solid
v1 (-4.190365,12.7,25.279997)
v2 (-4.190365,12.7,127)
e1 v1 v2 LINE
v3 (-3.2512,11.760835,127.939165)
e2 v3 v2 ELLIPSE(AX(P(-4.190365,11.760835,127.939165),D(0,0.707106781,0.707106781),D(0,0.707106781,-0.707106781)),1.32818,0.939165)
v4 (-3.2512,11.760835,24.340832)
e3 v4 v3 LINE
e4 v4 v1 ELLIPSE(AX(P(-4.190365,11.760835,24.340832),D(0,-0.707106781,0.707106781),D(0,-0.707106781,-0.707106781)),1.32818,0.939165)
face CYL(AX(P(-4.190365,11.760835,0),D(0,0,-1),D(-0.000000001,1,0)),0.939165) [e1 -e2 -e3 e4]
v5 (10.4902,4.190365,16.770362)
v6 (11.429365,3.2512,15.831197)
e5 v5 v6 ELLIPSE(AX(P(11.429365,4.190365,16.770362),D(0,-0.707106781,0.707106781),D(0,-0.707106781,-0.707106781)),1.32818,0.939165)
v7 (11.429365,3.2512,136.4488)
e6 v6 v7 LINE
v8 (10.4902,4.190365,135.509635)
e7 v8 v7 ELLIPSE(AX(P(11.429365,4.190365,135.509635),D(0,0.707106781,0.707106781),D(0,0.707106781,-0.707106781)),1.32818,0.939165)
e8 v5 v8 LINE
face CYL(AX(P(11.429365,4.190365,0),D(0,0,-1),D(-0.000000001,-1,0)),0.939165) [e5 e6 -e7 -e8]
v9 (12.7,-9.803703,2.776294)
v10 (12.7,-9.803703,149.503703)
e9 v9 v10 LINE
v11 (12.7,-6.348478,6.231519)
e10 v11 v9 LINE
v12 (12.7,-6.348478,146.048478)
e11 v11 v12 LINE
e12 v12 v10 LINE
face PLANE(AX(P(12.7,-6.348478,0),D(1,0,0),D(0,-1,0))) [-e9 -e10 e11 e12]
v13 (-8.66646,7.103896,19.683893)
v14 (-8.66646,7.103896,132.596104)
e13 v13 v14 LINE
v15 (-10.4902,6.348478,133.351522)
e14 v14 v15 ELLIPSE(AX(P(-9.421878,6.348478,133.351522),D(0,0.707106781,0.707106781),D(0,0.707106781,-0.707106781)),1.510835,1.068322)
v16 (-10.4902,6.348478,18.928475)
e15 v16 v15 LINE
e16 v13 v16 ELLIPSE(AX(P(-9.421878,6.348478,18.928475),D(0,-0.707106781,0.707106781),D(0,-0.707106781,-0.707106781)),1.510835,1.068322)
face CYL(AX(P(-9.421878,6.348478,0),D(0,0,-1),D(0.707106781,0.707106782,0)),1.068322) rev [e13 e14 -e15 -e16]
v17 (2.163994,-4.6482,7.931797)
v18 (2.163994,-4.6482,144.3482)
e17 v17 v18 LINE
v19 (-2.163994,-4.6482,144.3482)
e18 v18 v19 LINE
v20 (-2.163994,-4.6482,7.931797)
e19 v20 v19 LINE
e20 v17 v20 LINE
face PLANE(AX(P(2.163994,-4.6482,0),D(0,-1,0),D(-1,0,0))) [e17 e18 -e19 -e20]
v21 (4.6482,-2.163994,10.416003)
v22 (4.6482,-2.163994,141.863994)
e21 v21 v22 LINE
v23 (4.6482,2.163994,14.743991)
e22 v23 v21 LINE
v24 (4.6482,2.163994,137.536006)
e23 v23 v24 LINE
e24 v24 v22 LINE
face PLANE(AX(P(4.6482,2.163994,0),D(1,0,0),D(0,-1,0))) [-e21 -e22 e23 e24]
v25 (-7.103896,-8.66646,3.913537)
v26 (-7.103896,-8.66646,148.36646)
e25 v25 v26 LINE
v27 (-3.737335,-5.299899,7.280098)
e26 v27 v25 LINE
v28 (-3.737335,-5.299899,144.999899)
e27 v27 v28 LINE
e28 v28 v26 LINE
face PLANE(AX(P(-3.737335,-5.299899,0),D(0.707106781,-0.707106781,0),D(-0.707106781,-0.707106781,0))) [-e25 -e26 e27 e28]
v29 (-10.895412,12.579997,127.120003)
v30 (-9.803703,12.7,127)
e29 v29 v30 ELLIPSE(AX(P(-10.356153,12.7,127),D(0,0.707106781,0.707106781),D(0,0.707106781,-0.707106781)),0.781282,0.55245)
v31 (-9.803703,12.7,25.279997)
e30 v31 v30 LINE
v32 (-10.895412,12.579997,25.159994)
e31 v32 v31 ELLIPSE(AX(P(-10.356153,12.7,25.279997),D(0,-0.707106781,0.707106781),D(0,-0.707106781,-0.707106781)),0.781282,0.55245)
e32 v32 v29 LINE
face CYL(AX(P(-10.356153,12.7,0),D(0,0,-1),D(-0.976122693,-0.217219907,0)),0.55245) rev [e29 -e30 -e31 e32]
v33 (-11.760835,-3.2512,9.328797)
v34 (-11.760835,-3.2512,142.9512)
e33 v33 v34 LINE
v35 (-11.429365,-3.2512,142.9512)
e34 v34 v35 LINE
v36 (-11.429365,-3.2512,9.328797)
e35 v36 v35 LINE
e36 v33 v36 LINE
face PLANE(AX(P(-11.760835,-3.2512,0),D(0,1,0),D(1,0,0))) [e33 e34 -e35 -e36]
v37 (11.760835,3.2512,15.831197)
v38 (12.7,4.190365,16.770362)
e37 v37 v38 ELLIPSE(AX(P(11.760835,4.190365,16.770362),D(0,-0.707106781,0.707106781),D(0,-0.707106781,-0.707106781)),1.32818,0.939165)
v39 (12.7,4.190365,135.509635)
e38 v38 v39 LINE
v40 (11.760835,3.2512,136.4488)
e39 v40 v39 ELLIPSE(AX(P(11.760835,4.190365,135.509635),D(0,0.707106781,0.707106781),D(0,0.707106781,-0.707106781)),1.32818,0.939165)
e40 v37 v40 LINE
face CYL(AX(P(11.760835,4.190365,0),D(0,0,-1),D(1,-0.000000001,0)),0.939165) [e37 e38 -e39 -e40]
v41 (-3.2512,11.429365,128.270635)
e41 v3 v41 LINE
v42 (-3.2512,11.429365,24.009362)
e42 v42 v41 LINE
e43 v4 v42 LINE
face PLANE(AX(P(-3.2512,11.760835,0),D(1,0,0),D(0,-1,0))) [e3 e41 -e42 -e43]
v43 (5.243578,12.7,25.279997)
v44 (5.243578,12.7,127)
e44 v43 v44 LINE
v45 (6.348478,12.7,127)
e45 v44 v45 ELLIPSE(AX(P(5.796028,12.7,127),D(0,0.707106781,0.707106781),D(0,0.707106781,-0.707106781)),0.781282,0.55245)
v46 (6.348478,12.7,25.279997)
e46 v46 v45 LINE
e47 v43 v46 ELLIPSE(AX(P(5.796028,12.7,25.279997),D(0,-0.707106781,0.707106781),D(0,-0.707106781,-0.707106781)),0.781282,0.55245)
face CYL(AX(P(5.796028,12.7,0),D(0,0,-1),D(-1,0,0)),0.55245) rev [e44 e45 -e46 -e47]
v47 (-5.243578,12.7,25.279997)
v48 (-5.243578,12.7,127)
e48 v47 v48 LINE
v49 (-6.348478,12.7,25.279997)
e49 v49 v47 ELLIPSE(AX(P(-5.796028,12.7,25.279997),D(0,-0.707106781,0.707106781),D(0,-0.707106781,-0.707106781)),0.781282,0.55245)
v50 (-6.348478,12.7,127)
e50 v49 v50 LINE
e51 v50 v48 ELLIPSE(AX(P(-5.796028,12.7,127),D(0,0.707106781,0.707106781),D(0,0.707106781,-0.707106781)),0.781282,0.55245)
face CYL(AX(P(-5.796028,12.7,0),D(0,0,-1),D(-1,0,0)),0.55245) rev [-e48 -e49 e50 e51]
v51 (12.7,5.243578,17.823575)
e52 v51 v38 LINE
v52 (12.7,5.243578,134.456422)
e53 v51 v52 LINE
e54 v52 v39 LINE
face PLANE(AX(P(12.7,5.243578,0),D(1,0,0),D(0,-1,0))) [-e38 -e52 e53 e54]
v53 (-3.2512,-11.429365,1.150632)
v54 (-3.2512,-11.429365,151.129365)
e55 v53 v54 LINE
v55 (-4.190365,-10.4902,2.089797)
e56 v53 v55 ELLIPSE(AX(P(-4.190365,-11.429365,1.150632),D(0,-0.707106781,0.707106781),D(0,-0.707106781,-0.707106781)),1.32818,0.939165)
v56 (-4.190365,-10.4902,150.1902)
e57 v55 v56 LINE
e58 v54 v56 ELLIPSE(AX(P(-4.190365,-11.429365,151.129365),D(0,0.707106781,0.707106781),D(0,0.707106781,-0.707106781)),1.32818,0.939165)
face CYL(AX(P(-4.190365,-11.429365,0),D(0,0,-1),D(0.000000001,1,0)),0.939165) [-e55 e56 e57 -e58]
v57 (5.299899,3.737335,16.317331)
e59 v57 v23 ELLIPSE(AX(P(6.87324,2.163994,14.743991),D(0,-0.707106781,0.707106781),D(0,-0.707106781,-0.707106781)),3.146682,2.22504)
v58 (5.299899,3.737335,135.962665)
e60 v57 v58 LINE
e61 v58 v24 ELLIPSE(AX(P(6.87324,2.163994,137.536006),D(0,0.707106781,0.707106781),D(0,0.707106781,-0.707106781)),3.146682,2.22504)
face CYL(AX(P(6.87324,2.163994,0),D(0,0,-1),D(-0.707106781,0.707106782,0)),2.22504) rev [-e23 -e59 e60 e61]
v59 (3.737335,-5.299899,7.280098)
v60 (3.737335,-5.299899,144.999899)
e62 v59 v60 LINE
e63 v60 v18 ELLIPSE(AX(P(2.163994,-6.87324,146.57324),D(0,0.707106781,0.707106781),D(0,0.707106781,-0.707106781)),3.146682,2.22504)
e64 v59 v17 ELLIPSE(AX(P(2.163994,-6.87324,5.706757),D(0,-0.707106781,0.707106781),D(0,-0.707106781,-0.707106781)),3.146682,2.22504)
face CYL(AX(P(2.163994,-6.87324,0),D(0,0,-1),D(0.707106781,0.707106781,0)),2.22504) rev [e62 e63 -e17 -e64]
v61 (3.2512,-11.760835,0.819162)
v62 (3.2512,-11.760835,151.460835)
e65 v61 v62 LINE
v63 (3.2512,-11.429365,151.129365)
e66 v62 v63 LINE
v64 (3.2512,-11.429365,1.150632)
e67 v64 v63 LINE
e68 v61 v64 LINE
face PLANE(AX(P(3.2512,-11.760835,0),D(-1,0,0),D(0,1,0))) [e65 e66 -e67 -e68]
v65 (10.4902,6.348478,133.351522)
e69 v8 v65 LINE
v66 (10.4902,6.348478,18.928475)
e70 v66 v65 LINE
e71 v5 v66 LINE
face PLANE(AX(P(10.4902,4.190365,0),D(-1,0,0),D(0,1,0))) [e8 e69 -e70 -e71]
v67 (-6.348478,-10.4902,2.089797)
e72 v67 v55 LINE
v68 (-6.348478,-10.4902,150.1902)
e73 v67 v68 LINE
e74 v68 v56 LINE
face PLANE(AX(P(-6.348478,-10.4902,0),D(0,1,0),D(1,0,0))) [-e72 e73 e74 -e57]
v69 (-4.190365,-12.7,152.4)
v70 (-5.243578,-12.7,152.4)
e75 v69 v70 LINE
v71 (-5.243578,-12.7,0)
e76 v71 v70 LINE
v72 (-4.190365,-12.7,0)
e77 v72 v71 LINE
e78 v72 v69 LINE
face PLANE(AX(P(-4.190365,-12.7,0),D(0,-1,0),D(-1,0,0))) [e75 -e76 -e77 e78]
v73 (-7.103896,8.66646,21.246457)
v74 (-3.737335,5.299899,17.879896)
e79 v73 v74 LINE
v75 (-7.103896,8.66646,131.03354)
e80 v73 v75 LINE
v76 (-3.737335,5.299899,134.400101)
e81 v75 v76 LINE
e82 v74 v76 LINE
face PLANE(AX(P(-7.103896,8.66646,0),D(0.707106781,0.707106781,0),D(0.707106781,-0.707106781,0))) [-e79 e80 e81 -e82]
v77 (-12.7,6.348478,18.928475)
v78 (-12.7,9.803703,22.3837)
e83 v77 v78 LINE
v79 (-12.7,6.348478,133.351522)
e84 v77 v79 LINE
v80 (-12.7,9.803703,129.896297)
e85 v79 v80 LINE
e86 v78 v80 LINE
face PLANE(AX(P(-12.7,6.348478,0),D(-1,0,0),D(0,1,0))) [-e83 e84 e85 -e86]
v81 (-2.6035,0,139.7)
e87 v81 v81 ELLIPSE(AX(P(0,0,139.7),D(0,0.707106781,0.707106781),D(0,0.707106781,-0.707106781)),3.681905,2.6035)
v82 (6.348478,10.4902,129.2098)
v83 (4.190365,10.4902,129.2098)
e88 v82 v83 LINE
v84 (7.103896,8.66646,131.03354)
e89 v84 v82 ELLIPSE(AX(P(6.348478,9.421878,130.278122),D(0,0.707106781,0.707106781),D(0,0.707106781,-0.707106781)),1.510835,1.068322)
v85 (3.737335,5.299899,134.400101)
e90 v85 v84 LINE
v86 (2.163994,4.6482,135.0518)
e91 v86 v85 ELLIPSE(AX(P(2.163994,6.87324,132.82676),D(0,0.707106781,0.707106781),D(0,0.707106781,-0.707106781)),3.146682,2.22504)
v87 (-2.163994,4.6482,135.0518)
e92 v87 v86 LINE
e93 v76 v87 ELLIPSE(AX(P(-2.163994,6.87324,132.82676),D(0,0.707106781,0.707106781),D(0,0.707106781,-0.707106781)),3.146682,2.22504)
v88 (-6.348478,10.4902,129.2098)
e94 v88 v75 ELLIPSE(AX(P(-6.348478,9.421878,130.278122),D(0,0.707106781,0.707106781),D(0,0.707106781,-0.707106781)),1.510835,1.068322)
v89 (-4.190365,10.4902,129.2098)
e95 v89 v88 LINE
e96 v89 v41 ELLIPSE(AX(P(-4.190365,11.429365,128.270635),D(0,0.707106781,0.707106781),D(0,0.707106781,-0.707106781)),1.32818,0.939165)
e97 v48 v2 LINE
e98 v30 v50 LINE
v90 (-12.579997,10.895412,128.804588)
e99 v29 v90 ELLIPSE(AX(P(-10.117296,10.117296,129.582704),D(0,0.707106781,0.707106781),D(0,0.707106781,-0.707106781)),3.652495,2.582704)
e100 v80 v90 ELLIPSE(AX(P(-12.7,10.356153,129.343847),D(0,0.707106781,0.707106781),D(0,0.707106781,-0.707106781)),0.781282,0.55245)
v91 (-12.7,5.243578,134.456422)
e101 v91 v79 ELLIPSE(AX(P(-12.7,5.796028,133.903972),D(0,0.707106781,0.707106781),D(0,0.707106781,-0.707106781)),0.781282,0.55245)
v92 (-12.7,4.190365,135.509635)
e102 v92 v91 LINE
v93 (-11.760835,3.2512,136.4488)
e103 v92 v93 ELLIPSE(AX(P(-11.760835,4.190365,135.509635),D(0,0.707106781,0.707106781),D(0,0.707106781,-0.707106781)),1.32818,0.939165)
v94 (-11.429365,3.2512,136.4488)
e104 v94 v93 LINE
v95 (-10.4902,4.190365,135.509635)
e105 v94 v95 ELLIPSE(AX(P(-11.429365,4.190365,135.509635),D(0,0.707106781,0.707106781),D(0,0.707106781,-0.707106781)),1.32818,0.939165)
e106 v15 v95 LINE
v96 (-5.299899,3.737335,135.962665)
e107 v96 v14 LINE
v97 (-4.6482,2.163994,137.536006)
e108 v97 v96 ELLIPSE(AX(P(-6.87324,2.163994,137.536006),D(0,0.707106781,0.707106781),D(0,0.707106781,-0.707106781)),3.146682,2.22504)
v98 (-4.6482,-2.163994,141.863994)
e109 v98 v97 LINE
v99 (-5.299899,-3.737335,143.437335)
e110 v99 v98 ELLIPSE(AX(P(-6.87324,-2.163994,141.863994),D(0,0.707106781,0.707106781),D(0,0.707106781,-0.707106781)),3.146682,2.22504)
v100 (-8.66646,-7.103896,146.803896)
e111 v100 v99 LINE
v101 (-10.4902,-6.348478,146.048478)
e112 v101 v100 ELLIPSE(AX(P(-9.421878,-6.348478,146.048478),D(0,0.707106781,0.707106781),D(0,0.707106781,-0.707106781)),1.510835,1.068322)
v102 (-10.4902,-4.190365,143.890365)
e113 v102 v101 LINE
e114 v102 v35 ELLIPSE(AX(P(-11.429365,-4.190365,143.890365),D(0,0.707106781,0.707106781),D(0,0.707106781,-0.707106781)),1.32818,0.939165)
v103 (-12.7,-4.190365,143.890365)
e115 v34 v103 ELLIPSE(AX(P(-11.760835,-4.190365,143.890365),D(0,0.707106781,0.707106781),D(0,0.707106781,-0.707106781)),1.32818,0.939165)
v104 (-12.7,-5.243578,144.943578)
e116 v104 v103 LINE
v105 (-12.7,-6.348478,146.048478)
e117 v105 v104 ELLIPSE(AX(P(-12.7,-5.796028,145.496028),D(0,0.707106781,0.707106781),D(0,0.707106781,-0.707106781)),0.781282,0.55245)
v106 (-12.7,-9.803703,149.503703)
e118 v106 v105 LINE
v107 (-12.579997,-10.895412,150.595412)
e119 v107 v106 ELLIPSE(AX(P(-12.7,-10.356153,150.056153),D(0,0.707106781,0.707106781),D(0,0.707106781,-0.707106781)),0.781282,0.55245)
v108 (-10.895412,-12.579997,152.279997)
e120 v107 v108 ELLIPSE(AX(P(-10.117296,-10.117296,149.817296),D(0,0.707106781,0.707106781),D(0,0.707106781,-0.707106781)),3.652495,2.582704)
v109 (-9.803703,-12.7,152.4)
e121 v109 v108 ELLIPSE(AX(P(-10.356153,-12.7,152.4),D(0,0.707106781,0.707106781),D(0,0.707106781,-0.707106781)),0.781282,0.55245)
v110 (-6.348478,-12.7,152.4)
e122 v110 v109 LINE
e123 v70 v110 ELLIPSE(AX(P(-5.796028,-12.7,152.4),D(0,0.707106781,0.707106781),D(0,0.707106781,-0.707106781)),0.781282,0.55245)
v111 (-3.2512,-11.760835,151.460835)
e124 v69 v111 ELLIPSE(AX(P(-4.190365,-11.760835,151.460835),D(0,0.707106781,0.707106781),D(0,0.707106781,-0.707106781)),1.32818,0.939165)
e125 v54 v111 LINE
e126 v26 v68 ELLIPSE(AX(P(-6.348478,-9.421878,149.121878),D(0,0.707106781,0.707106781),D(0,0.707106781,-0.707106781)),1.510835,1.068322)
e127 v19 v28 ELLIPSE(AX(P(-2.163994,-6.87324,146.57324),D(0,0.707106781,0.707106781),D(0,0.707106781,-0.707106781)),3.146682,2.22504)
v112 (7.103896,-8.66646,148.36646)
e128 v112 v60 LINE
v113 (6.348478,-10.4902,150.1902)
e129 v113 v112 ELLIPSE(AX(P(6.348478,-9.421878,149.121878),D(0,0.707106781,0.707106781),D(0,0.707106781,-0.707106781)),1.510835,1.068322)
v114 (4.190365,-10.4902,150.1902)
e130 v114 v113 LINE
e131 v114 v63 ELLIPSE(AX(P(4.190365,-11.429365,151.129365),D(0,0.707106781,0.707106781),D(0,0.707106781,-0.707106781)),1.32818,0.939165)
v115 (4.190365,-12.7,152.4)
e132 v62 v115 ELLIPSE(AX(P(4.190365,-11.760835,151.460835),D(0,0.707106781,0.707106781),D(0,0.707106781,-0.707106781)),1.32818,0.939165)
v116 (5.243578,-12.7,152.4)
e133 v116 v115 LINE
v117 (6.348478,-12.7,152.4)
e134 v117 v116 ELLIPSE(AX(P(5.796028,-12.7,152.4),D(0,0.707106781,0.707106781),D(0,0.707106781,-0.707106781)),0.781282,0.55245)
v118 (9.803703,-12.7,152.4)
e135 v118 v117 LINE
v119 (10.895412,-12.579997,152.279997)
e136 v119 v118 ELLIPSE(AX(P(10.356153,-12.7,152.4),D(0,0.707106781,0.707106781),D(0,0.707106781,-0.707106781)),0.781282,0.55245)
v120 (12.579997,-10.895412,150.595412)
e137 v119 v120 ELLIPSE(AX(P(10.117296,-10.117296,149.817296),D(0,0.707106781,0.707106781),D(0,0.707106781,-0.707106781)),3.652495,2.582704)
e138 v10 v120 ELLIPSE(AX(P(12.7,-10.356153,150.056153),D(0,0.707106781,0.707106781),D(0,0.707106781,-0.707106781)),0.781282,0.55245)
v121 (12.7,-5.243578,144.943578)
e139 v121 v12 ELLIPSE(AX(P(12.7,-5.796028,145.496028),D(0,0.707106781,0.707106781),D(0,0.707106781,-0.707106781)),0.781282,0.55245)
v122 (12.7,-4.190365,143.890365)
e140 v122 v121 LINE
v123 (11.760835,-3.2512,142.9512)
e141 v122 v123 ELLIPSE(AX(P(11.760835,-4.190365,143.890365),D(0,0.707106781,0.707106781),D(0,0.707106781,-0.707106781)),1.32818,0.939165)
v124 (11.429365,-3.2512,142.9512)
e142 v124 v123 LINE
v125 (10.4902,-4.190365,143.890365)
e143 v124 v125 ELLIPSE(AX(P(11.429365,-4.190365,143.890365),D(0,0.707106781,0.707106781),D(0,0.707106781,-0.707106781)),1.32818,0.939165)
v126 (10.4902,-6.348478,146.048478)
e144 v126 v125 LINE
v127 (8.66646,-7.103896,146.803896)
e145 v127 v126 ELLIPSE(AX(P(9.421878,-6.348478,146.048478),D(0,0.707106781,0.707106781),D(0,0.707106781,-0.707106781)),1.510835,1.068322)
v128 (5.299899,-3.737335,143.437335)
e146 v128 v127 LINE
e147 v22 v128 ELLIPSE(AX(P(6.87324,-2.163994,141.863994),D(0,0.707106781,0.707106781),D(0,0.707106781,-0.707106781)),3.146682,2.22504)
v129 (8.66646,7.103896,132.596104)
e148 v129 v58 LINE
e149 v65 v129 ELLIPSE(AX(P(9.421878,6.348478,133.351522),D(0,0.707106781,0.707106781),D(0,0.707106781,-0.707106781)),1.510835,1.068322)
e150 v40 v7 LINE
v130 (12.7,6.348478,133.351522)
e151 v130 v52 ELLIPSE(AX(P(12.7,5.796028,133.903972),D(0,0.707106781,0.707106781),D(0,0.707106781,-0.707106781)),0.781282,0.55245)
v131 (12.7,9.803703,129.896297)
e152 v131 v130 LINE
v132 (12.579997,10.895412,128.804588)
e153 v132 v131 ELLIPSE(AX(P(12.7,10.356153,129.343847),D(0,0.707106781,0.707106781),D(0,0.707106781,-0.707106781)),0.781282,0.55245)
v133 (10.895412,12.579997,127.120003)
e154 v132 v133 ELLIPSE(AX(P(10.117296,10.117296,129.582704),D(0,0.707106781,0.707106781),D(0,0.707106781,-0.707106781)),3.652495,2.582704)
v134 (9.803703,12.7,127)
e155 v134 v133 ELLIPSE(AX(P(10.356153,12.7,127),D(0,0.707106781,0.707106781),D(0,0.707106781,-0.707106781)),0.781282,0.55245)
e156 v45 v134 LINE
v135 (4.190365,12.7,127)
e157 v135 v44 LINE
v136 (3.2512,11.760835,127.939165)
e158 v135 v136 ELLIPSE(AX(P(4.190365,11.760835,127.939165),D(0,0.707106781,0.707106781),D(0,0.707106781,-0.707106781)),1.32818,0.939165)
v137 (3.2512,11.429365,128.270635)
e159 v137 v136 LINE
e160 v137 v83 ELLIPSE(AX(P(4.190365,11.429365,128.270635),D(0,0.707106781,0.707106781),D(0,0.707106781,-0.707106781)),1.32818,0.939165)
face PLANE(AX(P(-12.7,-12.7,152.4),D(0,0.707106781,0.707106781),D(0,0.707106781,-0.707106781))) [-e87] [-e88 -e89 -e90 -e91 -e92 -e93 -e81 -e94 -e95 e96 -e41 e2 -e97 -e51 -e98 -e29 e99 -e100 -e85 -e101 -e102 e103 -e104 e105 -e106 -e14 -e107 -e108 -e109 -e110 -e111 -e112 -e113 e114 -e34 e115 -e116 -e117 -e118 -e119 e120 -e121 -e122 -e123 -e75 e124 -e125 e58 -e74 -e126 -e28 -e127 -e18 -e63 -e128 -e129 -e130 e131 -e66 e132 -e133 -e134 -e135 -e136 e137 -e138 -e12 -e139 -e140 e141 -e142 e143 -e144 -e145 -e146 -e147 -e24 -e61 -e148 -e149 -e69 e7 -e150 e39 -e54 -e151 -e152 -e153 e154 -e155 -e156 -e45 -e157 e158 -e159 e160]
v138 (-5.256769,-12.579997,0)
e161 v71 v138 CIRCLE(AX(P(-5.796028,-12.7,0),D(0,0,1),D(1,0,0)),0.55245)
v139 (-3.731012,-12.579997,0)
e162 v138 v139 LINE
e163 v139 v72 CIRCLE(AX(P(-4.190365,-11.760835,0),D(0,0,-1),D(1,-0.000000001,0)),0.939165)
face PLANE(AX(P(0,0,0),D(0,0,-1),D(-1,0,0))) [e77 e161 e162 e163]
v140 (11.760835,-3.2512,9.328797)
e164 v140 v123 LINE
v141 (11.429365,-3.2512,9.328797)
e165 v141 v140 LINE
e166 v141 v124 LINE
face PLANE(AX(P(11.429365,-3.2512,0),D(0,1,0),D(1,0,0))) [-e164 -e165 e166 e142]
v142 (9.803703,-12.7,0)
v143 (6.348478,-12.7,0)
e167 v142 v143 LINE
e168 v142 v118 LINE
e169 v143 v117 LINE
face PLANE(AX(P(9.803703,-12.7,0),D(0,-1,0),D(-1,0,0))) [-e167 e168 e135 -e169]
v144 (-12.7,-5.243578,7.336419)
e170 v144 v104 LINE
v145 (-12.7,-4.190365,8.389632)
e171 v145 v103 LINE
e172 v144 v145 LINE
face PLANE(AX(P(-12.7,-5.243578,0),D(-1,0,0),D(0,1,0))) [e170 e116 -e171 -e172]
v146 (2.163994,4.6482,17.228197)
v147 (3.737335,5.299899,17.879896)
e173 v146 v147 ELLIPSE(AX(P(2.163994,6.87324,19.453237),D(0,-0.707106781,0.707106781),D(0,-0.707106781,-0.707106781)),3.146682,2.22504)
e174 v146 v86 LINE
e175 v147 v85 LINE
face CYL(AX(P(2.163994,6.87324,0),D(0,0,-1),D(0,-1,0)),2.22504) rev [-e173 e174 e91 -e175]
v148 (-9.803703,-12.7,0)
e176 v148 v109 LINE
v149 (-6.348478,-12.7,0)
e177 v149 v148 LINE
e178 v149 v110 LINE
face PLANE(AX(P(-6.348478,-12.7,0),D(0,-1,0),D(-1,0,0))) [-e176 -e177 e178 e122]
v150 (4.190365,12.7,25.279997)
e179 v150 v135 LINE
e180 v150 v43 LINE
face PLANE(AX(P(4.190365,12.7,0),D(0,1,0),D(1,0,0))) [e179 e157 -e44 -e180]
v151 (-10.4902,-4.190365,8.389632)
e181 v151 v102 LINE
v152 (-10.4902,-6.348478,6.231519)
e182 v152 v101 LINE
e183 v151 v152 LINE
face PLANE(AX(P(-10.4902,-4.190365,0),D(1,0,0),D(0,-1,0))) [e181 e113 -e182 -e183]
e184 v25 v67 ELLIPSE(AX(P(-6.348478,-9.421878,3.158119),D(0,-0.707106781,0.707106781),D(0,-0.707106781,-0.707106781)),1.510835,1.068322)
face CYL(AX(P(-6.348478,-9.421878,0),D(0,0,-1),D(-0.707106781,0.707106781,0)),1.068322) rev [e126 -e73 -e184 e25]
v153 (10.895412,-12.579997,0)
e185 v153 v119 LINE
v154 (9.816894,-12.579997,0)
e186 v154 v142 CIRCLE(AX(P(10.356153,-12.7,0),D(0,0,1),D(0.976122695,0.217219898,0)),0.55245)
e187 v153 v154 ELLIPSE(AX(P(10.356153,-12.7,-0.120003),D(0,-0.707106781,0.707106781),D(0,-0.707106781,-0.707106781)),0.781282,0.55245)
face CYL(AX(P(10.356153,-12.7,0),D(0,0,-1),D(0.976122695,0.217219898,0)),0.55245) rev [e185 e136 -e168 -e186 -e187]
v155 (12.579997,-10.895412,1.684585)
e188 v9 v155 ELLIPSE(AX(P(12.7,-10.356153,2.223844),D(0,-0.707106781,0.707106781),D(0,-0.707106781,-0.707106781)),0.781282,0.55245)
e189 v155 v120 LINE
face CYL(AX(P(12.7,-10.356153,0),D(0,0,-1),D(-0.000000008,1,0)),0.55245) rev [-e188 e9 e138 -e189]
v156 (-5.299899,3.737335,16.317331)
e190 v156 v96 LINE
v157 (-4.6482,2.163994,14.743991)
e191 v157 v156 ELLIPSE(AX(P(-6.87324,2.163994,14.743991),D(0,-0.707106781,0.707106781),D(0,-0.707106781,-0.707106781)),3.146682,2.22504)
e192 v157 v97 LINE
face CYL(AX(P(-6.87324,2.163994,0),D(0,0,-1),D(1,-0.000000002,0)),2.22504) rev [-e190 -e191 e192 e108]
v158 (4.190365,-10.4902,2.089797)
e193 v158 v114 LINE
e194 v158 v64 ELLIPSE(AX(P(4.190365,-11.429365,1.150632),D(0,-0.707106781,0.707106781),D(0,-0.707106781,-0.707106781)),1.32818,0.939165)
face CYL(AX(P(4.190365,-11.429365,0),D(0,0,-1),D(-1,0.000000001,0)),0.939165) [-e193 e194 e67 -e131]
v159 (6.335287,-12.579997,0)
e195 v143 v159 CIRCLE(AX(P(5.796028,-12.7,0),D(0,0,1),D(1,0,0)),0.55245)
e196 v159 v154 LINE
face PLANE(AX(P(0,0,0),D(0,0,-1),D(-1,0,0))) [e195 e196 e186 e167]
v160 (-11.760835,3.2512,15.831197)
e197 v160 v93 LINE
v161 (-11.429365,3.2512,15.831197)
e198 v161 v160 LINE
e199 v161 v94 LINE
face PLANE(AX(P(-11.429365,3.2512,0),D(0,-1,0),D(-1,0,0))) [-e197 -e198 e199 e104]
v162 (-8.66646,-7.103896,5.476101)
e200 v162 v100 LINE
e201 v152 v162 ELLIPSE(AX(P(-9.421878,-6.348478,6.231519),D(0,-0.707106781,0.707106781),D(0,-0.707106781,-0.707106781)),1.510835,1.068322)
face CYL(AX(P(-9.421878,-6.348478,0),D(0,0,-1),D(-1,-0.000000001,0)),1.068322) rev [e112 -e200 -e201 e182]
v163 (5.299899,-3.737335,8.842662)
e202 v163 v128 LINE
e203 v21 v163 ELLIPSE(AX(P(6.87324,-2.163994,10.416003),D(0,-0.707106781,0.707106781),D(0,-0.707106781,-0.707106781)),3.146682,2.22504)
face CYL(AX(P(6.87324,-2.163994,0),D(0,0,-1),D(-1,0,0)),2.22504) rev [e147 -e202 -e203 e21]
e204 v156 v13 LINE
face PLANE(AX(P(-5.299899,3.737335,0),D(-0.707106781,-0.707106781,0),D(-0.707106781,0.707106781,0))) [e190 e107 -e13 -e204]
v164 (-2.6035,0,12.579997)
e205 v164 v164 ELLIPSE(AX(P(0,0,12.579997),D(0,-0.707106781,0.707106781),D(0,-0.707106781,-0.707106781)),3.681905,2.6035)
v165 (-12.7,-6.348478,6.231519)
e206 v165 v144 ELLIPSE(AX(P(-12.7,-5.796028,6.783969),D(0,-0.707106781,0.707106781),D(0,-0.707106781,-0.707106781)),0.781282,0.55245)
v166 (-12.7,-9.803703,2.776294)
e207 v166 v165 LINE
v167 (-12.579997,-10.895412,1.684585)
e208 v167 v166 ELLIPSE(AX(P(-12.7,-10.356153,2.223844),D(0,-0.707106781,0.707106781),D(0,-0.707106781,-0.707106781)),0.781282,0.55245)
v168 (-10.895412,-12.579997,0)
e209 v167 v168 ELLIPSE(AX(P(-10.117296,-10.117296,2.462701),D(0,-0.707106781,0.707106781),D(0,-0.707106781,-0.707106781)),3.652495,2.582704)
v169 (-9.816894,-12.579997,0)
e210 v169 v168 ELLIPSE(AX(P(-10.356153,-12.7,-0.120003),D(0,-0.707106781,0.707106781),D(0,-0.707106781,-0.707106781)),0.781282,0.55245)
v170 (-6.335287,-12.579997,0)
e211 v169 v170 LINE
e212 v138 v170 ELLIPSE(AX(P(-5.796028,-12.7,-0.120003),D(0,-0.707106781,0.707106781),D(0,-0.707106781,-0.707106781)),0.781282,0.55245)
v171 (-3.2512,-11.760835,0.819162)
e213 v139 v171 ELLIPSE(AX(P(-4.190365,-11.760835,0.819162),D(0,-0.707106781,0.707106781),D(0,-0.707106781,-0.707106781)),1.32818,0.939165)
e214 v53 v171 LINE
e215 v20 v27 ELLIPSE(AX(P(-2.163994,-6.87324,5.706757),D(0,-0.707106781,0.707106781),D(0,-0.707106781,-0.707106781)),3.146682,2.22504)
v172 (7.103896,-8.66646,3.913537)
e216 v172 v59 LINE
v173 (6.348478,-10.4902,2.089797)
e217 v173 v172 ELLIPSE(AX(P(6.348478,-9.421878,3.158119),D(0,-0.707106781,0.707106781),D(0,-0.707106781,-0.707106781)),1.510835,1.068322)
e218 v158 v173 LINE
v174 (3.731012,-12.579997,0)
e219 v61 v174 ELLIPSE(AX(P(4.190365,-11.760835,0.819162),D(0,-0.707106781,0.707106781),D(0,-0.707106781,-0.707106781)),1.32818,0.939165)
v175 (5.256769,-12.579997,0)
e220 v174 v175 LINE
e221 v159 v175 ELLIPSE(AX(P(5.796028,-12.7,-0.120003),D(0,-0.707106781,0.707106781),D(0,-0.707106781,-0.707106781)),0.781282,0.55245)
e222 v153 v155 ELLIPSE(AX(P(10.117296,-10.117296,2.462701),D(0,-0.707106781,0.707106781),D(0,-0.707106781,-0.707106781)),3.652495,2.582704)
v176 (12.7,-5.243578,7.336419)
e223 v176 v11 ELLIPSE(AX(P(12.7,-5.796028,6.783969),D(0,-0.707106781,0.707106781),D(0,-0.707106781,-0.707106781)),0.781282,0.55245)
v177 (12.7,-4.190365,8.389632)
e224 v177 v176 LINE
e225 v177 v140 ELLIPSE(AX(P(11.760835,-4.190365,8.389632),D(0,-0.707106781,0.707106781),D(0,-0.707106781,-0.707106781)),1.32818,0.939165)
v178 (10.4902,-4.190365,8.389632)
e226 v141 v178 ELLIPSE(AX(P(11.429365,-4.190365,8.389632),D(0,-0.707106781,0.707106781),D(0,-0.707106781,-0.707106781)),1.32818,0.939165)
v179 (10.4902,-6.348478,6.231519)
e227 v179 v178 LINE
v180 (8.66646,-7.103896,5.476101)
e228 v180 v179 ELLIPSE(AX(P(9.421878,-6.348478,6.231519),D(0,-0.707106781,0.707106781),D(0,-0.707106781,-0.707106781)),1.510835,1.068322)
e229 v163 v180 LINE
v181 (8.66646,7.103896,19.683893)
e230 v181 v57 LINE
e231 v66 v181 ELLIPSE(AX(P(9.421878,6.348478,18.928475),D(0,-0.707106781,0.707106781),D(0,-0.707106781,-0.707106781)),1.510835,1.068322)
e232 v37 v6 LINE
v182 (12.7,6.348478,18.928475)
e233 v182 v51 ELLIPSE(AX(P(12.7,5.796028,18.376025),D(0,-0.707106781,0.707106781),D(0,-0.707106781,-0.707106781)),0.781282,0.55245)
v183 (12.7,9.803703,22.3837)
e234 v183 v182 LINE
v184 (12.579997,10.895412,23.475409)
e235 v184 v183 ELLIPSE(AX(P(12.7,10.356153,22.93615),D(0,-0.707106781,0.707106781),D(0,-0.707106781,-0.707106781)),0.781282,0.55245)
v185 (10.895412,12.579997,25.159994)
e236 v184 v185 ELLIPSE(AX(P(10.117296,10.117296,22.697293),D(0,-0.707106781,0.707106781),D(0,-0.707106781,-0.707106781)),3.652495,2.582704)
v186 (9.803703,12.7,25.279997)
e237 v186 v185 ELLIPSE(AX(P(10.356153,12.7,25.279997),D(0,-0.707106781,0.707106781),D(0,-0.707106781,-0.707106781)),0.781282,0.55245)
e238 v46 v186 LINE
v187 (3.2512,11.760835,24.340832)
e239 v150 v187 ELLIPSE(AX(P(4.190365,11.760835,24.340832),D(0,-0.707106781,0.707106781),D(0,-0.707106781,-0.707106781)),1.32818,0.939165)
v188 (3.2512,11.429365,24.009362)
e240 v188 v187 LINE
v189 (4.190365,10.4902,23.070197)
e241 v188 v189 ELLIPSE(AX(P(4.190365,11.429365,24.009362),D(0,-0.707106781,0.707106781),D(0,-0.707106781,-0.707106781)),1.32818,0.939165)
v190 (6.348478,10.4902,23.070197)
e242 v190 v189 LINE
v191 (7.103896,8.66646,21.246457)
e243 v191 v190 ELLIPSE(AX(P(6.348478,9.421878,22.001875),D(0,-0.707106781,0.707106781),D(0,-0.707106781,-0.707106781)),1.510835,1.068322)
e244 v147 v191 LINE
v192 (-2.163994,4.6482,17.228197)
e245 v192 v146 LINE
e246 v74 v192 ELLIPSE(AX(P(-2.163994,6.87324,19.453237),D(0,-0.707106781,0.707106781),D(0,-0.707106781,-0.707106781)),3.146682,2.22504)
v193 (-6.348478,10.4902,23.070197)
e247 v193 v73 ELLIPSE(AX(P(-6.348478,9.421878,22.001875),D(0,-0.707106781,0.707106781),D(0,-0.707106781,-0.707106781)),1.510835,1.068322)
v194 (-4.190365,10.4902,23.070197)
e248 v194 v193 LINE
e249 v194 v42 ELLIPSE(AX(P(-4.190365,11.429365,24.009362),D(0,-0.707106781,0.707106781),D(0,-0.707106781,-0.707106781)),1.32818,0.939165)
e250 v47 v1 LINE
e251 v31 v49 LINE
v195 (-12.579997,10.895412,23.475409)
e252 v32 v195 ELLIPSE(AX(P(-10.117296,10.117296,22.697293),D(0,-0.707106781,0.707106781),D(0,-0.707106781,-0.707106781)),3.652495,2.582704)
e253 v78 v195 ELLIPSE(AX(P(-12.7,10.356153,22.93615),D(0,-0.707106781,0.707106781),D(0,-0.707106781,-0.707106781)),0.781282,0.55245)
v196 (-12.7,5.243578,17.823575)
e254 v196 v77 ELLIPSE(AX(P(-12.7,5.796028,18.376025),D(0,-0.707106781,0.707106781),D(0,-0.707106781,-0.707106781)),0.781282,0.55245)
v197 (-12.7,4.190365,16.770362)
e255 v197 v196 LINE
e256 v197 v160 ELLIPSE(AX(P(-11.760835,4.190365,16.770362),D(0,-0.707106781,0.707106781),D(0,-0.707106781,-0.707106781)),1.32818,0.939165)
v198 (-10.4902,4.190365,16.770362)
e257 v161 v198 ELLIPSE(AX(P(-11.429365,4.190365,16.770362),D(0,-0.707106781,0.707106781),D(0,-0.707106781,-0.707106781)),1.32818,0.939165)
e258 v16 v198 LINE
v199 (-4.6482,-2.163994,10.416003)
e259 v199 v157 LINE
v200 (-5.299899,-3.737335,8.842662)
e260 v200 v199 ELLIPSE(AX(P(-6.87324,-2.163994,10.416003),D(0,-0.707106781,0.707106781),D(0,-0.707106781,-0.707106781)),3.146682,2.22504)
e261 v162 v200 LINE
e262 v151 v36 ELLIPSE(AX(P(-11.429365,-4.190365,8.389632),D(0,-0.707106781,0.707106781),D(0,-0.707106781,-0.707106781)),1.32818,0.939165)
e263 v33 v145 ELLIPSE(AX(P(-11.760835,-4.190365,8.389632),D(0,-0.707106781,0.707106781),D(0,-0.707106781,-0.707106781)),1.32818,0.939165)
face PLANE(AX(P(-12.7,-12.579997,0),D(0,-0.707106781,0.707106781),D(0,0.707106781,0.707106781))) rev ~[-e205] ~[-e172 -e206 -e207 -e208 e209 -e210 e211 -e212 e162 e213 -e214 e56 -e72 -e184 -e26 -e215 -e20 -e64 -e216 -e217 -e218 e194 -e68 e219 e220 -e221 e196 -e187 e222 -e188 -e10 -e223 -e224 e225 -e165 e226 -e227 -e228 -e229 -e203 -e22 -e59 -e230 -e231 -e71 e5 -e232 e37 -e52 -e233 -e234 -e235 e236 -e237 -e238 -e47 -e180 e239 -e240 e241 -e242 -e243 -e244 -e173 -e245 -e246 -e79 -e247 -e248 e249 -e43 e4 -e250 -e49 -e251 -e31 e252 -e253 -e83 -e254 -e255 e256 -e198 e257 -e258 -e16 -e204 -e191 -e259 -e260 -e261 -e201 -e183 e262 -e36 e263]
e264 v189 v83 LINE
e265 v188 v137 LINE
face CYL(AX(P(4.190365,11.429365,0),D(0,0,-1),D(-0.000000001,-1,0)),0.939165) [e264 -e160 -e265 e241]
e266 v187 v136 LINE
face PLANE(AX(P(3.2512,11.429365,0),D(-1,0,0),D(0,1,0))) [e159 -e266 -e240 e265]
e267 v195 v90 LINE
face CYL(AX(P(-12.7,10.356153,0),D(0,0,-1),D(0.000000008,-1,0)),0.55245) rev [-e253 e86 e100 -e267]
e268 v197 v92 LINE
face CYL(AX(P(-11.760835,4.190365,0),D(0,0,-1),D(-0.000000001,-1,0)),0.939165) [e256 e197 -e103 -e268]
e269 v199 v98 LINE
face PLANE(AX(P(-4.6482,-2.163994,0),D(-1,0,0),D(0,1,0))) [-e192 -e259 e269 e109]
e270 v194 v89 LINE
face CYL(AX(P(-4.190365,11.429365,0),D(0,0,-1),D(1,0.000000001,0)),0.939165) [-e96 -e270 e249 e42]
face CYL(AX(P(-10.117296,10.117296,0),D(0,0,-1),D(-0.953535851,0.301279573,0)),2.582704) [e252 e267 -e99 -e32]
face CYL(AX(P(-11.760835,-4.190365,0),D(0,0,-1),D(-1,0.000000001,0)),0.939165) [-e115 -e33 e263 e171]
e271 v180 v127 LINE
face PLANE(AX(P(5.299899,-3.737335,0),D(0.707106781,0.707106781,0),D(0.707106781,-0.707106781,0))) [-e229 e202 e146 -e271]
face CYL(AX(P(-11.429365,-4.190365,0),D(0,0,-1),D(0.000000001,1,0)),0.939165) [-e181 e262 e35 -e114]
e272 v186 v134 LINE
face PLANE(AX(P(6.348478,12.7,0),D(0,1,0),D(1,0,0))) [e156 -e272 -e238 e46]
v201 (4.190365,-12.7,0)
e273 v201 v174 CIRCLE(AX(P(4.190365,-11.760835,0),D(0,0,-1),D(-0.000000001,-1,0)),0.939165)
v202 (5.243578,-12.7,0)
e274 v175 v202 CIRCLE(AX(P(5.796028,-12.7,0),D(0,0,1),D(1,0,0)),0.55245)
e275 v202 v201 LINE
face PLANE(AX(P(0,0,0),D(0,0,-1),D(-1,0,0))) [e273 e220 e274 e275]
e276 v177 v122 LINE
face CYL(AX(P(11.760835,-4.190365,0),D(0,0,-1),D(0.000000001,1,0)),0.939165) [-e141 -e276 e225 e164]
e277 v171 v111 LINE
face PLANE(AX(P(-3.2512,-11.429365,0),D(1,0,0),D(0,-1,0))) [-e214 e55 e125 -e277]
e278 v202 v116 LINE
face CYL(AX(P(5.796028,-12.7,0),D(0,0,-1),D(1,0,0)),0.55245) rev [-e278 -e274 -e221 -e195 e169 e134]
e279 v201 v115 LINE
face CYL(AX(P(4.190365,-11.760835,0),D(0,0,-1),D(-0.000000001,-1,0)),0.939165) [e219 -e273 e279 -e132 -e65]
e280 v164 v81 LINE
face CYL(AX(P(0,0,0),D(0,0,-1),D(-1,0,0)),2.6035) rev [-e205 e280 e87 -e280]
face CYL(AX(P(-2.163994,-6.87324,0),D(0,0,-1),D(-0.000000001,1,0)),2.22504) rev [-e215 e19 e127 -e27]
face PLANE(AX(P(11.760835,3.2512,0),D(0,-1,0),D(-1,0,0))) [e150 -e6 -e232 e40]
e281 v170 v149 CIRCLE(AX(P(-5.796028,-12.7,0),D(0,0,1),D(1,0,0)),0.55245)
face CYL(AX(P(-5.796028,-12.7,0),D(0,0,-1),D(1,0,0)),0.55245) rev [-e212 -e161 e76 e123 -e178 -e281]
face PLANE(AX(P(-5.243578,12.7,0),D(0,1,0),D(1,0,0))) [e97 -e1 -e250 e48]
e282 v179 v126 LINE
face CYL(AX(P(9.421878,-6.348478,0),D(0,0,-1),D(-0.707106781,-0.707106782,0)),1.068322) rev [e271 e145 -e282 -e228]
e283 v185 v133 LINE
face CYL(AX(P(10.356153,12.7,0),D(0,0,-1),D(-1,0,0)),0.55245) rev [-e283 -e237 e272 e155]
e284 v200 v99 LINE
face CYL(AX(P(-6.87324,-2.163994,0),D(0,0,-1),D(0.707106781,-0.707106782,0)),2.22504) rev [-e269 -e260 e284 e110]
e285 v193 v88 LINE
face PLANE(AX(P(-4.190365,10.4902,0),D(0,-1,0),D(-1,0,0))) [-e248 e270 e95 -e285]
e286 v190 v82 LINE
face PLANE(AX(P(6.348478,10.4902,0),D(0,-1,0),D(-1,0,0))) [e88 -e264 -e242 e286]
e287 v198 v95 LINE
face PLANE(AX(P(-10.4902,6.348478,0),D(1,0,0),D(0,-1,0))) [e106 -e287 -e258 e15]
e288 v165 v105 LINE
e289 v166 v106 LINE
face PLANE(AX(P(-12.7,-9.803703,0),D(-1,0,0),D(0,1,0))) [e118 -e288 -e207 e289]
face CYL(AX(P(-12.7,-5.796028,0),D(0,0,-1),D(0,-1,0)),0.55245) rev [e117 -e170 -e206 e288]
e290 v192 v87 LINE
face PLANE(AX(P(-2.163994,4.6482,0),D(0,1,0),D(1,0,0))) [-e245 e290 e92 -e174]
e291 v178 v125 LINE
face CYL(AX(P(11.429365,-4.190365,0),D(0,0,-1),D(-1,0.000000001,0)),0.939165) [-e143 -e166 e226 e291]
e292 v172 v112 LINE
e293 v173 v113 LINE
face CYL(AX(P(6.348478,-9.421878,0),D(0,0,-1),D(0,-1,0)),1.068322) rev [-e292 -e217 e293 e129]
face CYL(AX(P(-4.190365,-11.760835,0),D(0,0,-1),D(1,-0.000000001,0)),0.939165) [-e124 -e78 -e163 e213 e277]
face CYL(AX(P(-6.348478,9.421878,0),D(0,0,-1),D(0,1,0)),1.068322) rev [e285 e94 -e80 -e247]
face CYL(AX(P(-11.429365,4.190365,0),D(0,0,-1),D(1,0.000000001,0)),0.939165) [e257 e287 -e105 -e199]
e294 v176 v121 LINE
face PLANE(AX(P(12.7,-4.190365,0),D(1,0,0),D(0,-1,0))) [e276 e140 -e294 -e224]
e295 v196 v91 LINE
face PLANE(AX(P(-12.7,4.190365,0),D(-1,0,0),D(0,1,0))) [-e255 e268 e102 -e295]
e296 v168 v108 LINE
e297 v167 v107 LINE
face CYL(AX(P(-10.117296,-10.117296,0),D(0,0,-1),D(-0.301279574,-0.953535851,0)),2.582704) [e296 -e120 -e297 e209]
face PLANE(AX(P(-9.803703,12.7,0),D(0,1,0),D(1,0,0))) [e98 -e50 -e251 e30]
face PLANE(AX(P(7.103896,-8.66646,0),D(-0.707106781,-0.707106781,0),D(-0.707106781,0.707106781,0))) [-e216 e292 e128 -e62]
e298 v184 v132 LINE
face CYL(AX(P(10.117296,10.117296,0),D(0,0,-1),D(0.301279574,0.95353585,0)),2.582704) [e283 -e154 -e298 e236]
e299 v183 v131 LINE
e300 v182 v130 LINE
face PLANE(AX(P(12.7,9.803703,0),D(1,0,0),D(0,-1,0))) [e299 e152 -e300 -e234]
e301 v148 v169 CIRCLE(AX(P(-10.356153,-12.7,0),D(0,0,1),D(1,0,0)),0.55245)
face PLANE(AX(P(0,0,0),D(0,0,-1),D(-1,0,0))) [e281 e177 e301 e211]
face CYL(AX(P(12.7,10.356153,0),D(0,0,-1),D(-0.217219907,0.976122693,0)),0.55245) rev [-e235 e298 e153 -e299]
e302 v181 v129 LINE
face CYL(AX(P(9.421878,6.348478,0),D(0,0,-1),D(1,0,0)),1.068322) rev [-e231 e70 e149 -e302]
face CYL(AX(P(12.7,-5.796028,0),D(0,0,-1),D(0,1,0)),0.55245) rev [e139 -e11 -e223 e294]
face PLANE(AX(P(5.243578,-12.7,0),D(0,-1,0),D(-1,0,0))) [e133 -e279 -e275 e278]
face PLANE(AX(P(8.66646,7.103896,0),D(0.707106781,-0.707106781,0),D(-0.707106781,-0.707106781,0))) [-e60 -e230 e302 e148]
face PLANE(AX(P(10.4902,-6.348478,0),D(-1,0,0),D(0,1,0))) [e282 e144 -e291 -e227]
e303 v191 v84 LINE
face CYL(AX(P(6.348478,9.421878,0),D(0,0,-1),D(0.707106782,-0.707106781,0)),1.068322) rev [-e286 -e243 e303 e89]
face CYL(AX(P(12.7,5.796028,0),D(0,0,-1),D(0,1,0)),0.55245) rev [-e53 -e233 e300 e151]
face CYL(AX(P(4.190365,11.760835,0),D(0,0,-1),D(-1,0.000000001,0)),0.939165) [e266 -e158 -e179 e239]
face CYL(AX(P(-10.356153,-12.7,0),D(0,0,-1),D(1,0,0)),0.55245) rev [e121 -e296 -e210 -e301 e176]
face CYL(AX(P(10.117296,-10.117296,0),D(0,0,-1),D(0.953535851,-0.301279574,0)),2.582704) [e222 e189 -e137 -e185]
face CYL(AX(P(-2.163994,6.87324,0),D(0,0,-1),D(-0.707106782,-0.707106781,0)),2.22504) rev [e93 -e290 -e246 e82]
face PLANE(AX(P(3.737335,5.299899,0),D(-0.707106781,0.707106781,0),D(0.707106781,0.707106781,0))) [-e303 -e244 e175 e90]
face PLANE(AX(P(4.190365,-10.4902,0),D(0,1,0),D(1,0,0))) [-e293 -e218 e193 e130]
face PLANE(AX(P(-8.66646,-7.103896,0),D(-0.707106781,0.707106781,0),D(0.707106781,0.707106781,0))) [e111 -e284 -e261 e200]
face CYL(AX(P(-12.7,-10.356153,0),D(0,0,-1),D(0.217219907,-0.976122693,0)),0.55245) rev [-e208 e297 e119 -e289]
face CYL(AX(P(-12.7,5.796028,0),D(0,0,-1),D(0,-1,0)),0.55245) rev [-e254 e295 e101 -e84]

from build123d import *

# Parameters (mm, degrees)
SKETCH2_R           = 2.6035
BOSS_EXTRUDE1_DEPTH = 152.4
CUT_EXTRUDE2_DEPTH  = 203.2


with BuildPart() as part:
    # Sketch2 → Boss-Extrude1 (new body)
    with BuildSketch(Plane.XY):
        with BuildLine():
            Line((-3.737334562, -5.299899128), (-7.103895736, -8.666460301))
            ThreePointArc((-7.103895736, -8.666460301), (-7.335478831, -9.830707141), (-6.348478019, -10.4902))
            Line((-6.348478019, -10.4902), (-4.190365, -10.4902))
            ThreePointArc((-4.190365, -10.4902), (-3.52627506, -10.76527506), (-3.2512, -11.429365))
            Line((-3.2512, -11.429365), (-3.2512, -11.760835))
            ThreePointArc((-3.2512, -11.760835), (-3.52627506, -12.42492494), (-4.190365, -12.7))
            Line((-4.190365, -12.7), (-5.243578019, -12.7))
            ThreePointArc((-5.243578019, -12.7), (-5.796028019, -12.14755), (-6.348478019, -12.7))
            Line((-6.348478019, -12.7), (-9.803703153, -12.7))
            ThreePointArc((-9.803703153, -12.7), (-10.295790179, -12.150857656), (-10.895412136, -12.579996867))
            ThreePointArc((-10.895412136, -12.579996867), (-11.943543586, -11.943543585), (-12.579996867, -10.895412135))
            ThreePointArc((-12.579996867, -10.895412135), (-12.150857661, -10.295790179), (-12.7, -9.803703154))
            Line((-12.7, -9.803703154), (-12.7, -6.348478019))
            ThreePointArc((-12.7, -6.348478019), (-12.14755, -5.796028019), (-12.7, -5.243578019))
            Line((-12.7, -5.243578019), (-12.7, -4.190365))
            ThreePointArc((-12.7, -4.190365), (-12.42492494, -3.52627506), (-11.760835, -3.2512))
            Line((-11.760835, -3.2512), (-11.429365, -3.2512))
            ThreePointArc((-11.429365, -3.2512), (-10.76527506, -3.52627506), (-10.4902, -4.190365))
            Line((-10.4902, -4.190365), (-10.4902, -6.348478019))
            ThreePointArc((-10.4902, -6.348478019), (-9.830707141, -7.335478831), (-8.666460302, -7.103895737))
            Line((-8.666460302, -7.103895737), (-5.299899128, -3.737334563))
            ThreePointArc((-5.299899128, -3.737334563), (-4.817571085, -3.015479635), (-4.6482, -2.163993691))
            Line((-4.6482, -2.163993691), (-4.6482, 2.16399369))
            ThreePointArc((-4.6482, 2.16399369), (-4.817571084, 3.015479634), (-5.299899127, 3.737334562))
            Line((-5.299899127, 3.737334562), (-8.666460301, 7.103895736))
            ThreePointArc((-8.666460301, 7.103895736), (-9.83070714, 7.335478831), (-10.490199999, 6.348478019))
            Line((-10.490199999, 6.348478019), (-10.490199999, 4.190365))
            ThreePointArc((-10.490199999, 4.190365), (-10.765275058, 3.52627506), (-11.429364999, 3.2512))
            Line((-11.429364999, 3.2512), (-11.760834999, 3.2512))
            ThreePointArc((-11.760834999, 3.2512), (-12.424924939, 3.52627506), (-12.699999999, 4.190365))
            Line((-12.699999999, 4.190365), (-12.699999999, 5.243578019))
            ThreePointArc((-12.699999999, 5.243578019), (-12.147549999, 5.796028019), (-12.699999999, 6.348478019))
            Line((-12.699999999, 6.348478019), (-12.699999999, 9.803703154))
            ThreePointArc((-12.699999999, 9.803703154), (-12.15085766, 10.295790179), (-12.579996866, 10.895412135))
            ThreePointArc((-12.579996866, 10.895412135), (-11.943543584, 11.943543586), (-10.895412134, 12.579996867))
            ThreePointArc((-10.895412134, 12.579996867), (-10.295790177, 12.150857661), (-9.803703152, 12.7))
            Line((-9.803703152, 12.7), (-6.348478018, 12.7))
            ThreePointArc((-6.348478018, 12.7), (-5.796028018, 12.14755), (-5.243578018, 12.7))
            Line((-5.243578018, 12.7), (-4.190364999, 12.7))
            ThreePointArc((-4.190364999, 12.7), (-3.526275058, 12.42492494), (-3.251199999, 11.760835))
            Line((-3.251199999, 11.760835), (-3.251199999, 11.429365))
            ThreePointArc((-3.251199999, 11.429365), (-3.526275058, 10.76527506), (-4.190364999, 10.4902))
            Line((-4.190364999, 10.4902), (-6.348478018, 10.4902))
            ThreePointArc((-6.348478018, 10.4902), (-7.33547883, 9.830707142), (-7.103895735, 8.666460303))
            Line((-7.103895735, 8.666460303), (-3.737334561, 5.299899129))
            ThreePointArc((-3.737334561, 5.299899129), (-3.015479634, 4.817571086), (-2.16399369, 4.6482))
            Line((-2.16399369, 4.6482), (2.163993692, 4.6482))
            ThreePointArc((2.163993692, 4.6482), (3.015479636, 4.817571085), (3.737334564, 5.299899128))
            Line((3.737334564, 5.299899128), (7.103895738, 8.666460302))
            ThreePointArc((7.103895738, 8.666460302), (7.335478833, 9.830707141), (6.348478021, 10.4902))
            Line((6.348478021, 10.4902), (4.190365002, 10.4902))
            ThreePointArc((4.190365002, 10.4902), (3.526275062, 10.76527506), (3.251200002, 11.429365))
            Line((3.251200002, 11.429365), (3.251200002, 11.760835))
            ThreePointArc((3.251200002, 11.760835), (3.526275062, 12.42492494), (4.190365002, 12.7))
            Line((4.190365002, 12.7), (5.243578021, 12.7))
            ThreePointArc((5.243578021, 12.7), (5.796028021, 12.14755), (6.348478021, 12.7))
            Line((6.348478021, 12.7), (9.803703155, 12.7))
            ThreePointArc((9.803703155, 12.7), (10.295790181, 12.150857656), (10.895412138, 12.579996867))
            ThreePointArc((10.895412138, 12.579996867), (11.943543588, 11.943543585), (12.579996869, 10.895412136))
            ThreePointArc((12.579996869, 10.895412136), (12.150857663, 10.295790179), (12.700000001, 9.803703154))
            Line((12.700000001, 9.803703154), (12.700000001, 6.34847802))
            ThreePointArc((12.700000001, 6.34847802), (12.147550001, 5.79602802), (12.700000001, 5.24357802))
            Line((12.700000001, 5.24357802), (12.700000001, 4.190365001))
            ThreePointArc((12.700000001, 4.190365001), (12.424924941, 3.526275061), (11.760835001, 3.251200001))
            Line((11.760835001, 3.251200001), (11.429365001, 3.251200001))
            ThreePointArc((11.429365001, 3.251200001), (10.765275061, 3.526275061), (10.490200001, 4.190365001))
            Line((10.490200001, 4.190365001), (10.490200001, 6.34847802))
            ThreePointArc((10.490200001, 6.34847802), (9.830707143, 7.335478832), (8.666460303, 7.103895738))
            Line((8.666460303, 7.103895738), (5.299899129, 3.737334564))
            ThreePointArc((5.299899129, 3.737334564), (4.817571086, 3.015479636), (4.648200001, 2.163993692))
            Line((4.648200001, 2.163993692), (4.648200001, -2.163993689))
            ThreePointArc((4.648200001, -2.163993689), (4.817571086, -3.015479633), (5.299899128, -3.737334561))
            Line((5.299899128, -3.737334561), (8.666460302, -7.103895735))
            ThreePointArc((8.666460302, -7.103895735), (9.830707141, -7.33547883), (10.4902, -6.348478018))
            Line((10.4902, -6.348478018), (10.4902, -4.190364999))
            ThreePointArc((10.4902, -4.190364999), (10.76527506, -3.526275059), (11.429365, -3.251199999))
            Line((11.429365, -3.251199999), (11.760835, -3.251199999))
            ThreePointArc((11.760835, -3.251199999), (12.42492494, -3.526275059), (12.7, -4.190364999))
            Line((12.7, -4.190364999), (12.7, -5.243578018))
            ThreePointArc((12.7, -5.243578018), (12.14755, -5.796028018), (12.7, -6.348478018))
            Line((12.7, -6.348478018), (12.7, -9.803703153))
            ThreePointArc((12.7, -9.803703153), (12.150857661, -10.295790178), (12.579996867, -10.895412134))
            ThreePointArc((12.579996867, -10.895412134), (11.943543586, -11.943543584), (10.895412136, -12.579996866))
            ThreePointArc((10.895412136, -12.579996866), (10.295790179, -12.150857655), (9.803703154, -12.699999999))
            Line((9.803703154, -12.699999999), (6.348478019, -12.699999999))
            ThreePointArc((6.348478019, -12.699999999), (5.796028019, -12.147549999), (5.243578019, -12.699999999))
            Line((5.243578019, -12.699999999), (4.190365, -12.699999999))
            ThreePointArc((4.190365, -12.699999999), (3.52627506, -12.424924939), (3.2512, -11.760834999))
            Line((3.2512, -11.760834999), (3.2512, -11.429364999))
            ThreePointArc((3.2512, -11.429364999), (3.52627506, -10.765275059), (4.190365, -10.490199999))
            Line((4.190365, -10.490199999), (6.348478019, -10.490199999))
            ThreePointArc((6.348478019, -10.490199999), (7.335478831, -9.830707141), (7.103895737, -8.666460301))
            Line((7.103895737, -8.666460301), (3.737334563, -5.299899128))
            ThreePointArc((3.737334563, -5.299899128), (3.015479635, -4.817571085), (2.163993691, -4.648199999))
            Line((2.163993691, -4.648199999), (-2.163993691, -4.648199999))
            ThreePointArc((-2.163993691, -4.648199999), (-3.015479635, -4.817571085), (-3.737334562, -5.299899128))
        make_face()
        with Locations(Location((0, 0, 0), (0, 0, 180))):
            Circle(SKETCH2_R, mode=Mode.SUBTRACT)
    extrude(amount=BOSS_EXTRUDE1_DEPTH)

    # Sketch3 → Cut-Extrude2 (cut)
    with BuildSketch(Plane.ZY.offset(12.7)):
        Polygon((0, 12.579996867), (0, -12.579996867), (43.293899486, 30.713902619), (0, 30.713902619), align=None)
        Polygon((152.4, -12.7), (90.501543174, 49.198456826), (152.4, 49.198456826), align=None)
    extrude(amount=-CUT_EXTRUDE2_DEPTH, mode=Mode.SUBTRACT)


solid = part.part
